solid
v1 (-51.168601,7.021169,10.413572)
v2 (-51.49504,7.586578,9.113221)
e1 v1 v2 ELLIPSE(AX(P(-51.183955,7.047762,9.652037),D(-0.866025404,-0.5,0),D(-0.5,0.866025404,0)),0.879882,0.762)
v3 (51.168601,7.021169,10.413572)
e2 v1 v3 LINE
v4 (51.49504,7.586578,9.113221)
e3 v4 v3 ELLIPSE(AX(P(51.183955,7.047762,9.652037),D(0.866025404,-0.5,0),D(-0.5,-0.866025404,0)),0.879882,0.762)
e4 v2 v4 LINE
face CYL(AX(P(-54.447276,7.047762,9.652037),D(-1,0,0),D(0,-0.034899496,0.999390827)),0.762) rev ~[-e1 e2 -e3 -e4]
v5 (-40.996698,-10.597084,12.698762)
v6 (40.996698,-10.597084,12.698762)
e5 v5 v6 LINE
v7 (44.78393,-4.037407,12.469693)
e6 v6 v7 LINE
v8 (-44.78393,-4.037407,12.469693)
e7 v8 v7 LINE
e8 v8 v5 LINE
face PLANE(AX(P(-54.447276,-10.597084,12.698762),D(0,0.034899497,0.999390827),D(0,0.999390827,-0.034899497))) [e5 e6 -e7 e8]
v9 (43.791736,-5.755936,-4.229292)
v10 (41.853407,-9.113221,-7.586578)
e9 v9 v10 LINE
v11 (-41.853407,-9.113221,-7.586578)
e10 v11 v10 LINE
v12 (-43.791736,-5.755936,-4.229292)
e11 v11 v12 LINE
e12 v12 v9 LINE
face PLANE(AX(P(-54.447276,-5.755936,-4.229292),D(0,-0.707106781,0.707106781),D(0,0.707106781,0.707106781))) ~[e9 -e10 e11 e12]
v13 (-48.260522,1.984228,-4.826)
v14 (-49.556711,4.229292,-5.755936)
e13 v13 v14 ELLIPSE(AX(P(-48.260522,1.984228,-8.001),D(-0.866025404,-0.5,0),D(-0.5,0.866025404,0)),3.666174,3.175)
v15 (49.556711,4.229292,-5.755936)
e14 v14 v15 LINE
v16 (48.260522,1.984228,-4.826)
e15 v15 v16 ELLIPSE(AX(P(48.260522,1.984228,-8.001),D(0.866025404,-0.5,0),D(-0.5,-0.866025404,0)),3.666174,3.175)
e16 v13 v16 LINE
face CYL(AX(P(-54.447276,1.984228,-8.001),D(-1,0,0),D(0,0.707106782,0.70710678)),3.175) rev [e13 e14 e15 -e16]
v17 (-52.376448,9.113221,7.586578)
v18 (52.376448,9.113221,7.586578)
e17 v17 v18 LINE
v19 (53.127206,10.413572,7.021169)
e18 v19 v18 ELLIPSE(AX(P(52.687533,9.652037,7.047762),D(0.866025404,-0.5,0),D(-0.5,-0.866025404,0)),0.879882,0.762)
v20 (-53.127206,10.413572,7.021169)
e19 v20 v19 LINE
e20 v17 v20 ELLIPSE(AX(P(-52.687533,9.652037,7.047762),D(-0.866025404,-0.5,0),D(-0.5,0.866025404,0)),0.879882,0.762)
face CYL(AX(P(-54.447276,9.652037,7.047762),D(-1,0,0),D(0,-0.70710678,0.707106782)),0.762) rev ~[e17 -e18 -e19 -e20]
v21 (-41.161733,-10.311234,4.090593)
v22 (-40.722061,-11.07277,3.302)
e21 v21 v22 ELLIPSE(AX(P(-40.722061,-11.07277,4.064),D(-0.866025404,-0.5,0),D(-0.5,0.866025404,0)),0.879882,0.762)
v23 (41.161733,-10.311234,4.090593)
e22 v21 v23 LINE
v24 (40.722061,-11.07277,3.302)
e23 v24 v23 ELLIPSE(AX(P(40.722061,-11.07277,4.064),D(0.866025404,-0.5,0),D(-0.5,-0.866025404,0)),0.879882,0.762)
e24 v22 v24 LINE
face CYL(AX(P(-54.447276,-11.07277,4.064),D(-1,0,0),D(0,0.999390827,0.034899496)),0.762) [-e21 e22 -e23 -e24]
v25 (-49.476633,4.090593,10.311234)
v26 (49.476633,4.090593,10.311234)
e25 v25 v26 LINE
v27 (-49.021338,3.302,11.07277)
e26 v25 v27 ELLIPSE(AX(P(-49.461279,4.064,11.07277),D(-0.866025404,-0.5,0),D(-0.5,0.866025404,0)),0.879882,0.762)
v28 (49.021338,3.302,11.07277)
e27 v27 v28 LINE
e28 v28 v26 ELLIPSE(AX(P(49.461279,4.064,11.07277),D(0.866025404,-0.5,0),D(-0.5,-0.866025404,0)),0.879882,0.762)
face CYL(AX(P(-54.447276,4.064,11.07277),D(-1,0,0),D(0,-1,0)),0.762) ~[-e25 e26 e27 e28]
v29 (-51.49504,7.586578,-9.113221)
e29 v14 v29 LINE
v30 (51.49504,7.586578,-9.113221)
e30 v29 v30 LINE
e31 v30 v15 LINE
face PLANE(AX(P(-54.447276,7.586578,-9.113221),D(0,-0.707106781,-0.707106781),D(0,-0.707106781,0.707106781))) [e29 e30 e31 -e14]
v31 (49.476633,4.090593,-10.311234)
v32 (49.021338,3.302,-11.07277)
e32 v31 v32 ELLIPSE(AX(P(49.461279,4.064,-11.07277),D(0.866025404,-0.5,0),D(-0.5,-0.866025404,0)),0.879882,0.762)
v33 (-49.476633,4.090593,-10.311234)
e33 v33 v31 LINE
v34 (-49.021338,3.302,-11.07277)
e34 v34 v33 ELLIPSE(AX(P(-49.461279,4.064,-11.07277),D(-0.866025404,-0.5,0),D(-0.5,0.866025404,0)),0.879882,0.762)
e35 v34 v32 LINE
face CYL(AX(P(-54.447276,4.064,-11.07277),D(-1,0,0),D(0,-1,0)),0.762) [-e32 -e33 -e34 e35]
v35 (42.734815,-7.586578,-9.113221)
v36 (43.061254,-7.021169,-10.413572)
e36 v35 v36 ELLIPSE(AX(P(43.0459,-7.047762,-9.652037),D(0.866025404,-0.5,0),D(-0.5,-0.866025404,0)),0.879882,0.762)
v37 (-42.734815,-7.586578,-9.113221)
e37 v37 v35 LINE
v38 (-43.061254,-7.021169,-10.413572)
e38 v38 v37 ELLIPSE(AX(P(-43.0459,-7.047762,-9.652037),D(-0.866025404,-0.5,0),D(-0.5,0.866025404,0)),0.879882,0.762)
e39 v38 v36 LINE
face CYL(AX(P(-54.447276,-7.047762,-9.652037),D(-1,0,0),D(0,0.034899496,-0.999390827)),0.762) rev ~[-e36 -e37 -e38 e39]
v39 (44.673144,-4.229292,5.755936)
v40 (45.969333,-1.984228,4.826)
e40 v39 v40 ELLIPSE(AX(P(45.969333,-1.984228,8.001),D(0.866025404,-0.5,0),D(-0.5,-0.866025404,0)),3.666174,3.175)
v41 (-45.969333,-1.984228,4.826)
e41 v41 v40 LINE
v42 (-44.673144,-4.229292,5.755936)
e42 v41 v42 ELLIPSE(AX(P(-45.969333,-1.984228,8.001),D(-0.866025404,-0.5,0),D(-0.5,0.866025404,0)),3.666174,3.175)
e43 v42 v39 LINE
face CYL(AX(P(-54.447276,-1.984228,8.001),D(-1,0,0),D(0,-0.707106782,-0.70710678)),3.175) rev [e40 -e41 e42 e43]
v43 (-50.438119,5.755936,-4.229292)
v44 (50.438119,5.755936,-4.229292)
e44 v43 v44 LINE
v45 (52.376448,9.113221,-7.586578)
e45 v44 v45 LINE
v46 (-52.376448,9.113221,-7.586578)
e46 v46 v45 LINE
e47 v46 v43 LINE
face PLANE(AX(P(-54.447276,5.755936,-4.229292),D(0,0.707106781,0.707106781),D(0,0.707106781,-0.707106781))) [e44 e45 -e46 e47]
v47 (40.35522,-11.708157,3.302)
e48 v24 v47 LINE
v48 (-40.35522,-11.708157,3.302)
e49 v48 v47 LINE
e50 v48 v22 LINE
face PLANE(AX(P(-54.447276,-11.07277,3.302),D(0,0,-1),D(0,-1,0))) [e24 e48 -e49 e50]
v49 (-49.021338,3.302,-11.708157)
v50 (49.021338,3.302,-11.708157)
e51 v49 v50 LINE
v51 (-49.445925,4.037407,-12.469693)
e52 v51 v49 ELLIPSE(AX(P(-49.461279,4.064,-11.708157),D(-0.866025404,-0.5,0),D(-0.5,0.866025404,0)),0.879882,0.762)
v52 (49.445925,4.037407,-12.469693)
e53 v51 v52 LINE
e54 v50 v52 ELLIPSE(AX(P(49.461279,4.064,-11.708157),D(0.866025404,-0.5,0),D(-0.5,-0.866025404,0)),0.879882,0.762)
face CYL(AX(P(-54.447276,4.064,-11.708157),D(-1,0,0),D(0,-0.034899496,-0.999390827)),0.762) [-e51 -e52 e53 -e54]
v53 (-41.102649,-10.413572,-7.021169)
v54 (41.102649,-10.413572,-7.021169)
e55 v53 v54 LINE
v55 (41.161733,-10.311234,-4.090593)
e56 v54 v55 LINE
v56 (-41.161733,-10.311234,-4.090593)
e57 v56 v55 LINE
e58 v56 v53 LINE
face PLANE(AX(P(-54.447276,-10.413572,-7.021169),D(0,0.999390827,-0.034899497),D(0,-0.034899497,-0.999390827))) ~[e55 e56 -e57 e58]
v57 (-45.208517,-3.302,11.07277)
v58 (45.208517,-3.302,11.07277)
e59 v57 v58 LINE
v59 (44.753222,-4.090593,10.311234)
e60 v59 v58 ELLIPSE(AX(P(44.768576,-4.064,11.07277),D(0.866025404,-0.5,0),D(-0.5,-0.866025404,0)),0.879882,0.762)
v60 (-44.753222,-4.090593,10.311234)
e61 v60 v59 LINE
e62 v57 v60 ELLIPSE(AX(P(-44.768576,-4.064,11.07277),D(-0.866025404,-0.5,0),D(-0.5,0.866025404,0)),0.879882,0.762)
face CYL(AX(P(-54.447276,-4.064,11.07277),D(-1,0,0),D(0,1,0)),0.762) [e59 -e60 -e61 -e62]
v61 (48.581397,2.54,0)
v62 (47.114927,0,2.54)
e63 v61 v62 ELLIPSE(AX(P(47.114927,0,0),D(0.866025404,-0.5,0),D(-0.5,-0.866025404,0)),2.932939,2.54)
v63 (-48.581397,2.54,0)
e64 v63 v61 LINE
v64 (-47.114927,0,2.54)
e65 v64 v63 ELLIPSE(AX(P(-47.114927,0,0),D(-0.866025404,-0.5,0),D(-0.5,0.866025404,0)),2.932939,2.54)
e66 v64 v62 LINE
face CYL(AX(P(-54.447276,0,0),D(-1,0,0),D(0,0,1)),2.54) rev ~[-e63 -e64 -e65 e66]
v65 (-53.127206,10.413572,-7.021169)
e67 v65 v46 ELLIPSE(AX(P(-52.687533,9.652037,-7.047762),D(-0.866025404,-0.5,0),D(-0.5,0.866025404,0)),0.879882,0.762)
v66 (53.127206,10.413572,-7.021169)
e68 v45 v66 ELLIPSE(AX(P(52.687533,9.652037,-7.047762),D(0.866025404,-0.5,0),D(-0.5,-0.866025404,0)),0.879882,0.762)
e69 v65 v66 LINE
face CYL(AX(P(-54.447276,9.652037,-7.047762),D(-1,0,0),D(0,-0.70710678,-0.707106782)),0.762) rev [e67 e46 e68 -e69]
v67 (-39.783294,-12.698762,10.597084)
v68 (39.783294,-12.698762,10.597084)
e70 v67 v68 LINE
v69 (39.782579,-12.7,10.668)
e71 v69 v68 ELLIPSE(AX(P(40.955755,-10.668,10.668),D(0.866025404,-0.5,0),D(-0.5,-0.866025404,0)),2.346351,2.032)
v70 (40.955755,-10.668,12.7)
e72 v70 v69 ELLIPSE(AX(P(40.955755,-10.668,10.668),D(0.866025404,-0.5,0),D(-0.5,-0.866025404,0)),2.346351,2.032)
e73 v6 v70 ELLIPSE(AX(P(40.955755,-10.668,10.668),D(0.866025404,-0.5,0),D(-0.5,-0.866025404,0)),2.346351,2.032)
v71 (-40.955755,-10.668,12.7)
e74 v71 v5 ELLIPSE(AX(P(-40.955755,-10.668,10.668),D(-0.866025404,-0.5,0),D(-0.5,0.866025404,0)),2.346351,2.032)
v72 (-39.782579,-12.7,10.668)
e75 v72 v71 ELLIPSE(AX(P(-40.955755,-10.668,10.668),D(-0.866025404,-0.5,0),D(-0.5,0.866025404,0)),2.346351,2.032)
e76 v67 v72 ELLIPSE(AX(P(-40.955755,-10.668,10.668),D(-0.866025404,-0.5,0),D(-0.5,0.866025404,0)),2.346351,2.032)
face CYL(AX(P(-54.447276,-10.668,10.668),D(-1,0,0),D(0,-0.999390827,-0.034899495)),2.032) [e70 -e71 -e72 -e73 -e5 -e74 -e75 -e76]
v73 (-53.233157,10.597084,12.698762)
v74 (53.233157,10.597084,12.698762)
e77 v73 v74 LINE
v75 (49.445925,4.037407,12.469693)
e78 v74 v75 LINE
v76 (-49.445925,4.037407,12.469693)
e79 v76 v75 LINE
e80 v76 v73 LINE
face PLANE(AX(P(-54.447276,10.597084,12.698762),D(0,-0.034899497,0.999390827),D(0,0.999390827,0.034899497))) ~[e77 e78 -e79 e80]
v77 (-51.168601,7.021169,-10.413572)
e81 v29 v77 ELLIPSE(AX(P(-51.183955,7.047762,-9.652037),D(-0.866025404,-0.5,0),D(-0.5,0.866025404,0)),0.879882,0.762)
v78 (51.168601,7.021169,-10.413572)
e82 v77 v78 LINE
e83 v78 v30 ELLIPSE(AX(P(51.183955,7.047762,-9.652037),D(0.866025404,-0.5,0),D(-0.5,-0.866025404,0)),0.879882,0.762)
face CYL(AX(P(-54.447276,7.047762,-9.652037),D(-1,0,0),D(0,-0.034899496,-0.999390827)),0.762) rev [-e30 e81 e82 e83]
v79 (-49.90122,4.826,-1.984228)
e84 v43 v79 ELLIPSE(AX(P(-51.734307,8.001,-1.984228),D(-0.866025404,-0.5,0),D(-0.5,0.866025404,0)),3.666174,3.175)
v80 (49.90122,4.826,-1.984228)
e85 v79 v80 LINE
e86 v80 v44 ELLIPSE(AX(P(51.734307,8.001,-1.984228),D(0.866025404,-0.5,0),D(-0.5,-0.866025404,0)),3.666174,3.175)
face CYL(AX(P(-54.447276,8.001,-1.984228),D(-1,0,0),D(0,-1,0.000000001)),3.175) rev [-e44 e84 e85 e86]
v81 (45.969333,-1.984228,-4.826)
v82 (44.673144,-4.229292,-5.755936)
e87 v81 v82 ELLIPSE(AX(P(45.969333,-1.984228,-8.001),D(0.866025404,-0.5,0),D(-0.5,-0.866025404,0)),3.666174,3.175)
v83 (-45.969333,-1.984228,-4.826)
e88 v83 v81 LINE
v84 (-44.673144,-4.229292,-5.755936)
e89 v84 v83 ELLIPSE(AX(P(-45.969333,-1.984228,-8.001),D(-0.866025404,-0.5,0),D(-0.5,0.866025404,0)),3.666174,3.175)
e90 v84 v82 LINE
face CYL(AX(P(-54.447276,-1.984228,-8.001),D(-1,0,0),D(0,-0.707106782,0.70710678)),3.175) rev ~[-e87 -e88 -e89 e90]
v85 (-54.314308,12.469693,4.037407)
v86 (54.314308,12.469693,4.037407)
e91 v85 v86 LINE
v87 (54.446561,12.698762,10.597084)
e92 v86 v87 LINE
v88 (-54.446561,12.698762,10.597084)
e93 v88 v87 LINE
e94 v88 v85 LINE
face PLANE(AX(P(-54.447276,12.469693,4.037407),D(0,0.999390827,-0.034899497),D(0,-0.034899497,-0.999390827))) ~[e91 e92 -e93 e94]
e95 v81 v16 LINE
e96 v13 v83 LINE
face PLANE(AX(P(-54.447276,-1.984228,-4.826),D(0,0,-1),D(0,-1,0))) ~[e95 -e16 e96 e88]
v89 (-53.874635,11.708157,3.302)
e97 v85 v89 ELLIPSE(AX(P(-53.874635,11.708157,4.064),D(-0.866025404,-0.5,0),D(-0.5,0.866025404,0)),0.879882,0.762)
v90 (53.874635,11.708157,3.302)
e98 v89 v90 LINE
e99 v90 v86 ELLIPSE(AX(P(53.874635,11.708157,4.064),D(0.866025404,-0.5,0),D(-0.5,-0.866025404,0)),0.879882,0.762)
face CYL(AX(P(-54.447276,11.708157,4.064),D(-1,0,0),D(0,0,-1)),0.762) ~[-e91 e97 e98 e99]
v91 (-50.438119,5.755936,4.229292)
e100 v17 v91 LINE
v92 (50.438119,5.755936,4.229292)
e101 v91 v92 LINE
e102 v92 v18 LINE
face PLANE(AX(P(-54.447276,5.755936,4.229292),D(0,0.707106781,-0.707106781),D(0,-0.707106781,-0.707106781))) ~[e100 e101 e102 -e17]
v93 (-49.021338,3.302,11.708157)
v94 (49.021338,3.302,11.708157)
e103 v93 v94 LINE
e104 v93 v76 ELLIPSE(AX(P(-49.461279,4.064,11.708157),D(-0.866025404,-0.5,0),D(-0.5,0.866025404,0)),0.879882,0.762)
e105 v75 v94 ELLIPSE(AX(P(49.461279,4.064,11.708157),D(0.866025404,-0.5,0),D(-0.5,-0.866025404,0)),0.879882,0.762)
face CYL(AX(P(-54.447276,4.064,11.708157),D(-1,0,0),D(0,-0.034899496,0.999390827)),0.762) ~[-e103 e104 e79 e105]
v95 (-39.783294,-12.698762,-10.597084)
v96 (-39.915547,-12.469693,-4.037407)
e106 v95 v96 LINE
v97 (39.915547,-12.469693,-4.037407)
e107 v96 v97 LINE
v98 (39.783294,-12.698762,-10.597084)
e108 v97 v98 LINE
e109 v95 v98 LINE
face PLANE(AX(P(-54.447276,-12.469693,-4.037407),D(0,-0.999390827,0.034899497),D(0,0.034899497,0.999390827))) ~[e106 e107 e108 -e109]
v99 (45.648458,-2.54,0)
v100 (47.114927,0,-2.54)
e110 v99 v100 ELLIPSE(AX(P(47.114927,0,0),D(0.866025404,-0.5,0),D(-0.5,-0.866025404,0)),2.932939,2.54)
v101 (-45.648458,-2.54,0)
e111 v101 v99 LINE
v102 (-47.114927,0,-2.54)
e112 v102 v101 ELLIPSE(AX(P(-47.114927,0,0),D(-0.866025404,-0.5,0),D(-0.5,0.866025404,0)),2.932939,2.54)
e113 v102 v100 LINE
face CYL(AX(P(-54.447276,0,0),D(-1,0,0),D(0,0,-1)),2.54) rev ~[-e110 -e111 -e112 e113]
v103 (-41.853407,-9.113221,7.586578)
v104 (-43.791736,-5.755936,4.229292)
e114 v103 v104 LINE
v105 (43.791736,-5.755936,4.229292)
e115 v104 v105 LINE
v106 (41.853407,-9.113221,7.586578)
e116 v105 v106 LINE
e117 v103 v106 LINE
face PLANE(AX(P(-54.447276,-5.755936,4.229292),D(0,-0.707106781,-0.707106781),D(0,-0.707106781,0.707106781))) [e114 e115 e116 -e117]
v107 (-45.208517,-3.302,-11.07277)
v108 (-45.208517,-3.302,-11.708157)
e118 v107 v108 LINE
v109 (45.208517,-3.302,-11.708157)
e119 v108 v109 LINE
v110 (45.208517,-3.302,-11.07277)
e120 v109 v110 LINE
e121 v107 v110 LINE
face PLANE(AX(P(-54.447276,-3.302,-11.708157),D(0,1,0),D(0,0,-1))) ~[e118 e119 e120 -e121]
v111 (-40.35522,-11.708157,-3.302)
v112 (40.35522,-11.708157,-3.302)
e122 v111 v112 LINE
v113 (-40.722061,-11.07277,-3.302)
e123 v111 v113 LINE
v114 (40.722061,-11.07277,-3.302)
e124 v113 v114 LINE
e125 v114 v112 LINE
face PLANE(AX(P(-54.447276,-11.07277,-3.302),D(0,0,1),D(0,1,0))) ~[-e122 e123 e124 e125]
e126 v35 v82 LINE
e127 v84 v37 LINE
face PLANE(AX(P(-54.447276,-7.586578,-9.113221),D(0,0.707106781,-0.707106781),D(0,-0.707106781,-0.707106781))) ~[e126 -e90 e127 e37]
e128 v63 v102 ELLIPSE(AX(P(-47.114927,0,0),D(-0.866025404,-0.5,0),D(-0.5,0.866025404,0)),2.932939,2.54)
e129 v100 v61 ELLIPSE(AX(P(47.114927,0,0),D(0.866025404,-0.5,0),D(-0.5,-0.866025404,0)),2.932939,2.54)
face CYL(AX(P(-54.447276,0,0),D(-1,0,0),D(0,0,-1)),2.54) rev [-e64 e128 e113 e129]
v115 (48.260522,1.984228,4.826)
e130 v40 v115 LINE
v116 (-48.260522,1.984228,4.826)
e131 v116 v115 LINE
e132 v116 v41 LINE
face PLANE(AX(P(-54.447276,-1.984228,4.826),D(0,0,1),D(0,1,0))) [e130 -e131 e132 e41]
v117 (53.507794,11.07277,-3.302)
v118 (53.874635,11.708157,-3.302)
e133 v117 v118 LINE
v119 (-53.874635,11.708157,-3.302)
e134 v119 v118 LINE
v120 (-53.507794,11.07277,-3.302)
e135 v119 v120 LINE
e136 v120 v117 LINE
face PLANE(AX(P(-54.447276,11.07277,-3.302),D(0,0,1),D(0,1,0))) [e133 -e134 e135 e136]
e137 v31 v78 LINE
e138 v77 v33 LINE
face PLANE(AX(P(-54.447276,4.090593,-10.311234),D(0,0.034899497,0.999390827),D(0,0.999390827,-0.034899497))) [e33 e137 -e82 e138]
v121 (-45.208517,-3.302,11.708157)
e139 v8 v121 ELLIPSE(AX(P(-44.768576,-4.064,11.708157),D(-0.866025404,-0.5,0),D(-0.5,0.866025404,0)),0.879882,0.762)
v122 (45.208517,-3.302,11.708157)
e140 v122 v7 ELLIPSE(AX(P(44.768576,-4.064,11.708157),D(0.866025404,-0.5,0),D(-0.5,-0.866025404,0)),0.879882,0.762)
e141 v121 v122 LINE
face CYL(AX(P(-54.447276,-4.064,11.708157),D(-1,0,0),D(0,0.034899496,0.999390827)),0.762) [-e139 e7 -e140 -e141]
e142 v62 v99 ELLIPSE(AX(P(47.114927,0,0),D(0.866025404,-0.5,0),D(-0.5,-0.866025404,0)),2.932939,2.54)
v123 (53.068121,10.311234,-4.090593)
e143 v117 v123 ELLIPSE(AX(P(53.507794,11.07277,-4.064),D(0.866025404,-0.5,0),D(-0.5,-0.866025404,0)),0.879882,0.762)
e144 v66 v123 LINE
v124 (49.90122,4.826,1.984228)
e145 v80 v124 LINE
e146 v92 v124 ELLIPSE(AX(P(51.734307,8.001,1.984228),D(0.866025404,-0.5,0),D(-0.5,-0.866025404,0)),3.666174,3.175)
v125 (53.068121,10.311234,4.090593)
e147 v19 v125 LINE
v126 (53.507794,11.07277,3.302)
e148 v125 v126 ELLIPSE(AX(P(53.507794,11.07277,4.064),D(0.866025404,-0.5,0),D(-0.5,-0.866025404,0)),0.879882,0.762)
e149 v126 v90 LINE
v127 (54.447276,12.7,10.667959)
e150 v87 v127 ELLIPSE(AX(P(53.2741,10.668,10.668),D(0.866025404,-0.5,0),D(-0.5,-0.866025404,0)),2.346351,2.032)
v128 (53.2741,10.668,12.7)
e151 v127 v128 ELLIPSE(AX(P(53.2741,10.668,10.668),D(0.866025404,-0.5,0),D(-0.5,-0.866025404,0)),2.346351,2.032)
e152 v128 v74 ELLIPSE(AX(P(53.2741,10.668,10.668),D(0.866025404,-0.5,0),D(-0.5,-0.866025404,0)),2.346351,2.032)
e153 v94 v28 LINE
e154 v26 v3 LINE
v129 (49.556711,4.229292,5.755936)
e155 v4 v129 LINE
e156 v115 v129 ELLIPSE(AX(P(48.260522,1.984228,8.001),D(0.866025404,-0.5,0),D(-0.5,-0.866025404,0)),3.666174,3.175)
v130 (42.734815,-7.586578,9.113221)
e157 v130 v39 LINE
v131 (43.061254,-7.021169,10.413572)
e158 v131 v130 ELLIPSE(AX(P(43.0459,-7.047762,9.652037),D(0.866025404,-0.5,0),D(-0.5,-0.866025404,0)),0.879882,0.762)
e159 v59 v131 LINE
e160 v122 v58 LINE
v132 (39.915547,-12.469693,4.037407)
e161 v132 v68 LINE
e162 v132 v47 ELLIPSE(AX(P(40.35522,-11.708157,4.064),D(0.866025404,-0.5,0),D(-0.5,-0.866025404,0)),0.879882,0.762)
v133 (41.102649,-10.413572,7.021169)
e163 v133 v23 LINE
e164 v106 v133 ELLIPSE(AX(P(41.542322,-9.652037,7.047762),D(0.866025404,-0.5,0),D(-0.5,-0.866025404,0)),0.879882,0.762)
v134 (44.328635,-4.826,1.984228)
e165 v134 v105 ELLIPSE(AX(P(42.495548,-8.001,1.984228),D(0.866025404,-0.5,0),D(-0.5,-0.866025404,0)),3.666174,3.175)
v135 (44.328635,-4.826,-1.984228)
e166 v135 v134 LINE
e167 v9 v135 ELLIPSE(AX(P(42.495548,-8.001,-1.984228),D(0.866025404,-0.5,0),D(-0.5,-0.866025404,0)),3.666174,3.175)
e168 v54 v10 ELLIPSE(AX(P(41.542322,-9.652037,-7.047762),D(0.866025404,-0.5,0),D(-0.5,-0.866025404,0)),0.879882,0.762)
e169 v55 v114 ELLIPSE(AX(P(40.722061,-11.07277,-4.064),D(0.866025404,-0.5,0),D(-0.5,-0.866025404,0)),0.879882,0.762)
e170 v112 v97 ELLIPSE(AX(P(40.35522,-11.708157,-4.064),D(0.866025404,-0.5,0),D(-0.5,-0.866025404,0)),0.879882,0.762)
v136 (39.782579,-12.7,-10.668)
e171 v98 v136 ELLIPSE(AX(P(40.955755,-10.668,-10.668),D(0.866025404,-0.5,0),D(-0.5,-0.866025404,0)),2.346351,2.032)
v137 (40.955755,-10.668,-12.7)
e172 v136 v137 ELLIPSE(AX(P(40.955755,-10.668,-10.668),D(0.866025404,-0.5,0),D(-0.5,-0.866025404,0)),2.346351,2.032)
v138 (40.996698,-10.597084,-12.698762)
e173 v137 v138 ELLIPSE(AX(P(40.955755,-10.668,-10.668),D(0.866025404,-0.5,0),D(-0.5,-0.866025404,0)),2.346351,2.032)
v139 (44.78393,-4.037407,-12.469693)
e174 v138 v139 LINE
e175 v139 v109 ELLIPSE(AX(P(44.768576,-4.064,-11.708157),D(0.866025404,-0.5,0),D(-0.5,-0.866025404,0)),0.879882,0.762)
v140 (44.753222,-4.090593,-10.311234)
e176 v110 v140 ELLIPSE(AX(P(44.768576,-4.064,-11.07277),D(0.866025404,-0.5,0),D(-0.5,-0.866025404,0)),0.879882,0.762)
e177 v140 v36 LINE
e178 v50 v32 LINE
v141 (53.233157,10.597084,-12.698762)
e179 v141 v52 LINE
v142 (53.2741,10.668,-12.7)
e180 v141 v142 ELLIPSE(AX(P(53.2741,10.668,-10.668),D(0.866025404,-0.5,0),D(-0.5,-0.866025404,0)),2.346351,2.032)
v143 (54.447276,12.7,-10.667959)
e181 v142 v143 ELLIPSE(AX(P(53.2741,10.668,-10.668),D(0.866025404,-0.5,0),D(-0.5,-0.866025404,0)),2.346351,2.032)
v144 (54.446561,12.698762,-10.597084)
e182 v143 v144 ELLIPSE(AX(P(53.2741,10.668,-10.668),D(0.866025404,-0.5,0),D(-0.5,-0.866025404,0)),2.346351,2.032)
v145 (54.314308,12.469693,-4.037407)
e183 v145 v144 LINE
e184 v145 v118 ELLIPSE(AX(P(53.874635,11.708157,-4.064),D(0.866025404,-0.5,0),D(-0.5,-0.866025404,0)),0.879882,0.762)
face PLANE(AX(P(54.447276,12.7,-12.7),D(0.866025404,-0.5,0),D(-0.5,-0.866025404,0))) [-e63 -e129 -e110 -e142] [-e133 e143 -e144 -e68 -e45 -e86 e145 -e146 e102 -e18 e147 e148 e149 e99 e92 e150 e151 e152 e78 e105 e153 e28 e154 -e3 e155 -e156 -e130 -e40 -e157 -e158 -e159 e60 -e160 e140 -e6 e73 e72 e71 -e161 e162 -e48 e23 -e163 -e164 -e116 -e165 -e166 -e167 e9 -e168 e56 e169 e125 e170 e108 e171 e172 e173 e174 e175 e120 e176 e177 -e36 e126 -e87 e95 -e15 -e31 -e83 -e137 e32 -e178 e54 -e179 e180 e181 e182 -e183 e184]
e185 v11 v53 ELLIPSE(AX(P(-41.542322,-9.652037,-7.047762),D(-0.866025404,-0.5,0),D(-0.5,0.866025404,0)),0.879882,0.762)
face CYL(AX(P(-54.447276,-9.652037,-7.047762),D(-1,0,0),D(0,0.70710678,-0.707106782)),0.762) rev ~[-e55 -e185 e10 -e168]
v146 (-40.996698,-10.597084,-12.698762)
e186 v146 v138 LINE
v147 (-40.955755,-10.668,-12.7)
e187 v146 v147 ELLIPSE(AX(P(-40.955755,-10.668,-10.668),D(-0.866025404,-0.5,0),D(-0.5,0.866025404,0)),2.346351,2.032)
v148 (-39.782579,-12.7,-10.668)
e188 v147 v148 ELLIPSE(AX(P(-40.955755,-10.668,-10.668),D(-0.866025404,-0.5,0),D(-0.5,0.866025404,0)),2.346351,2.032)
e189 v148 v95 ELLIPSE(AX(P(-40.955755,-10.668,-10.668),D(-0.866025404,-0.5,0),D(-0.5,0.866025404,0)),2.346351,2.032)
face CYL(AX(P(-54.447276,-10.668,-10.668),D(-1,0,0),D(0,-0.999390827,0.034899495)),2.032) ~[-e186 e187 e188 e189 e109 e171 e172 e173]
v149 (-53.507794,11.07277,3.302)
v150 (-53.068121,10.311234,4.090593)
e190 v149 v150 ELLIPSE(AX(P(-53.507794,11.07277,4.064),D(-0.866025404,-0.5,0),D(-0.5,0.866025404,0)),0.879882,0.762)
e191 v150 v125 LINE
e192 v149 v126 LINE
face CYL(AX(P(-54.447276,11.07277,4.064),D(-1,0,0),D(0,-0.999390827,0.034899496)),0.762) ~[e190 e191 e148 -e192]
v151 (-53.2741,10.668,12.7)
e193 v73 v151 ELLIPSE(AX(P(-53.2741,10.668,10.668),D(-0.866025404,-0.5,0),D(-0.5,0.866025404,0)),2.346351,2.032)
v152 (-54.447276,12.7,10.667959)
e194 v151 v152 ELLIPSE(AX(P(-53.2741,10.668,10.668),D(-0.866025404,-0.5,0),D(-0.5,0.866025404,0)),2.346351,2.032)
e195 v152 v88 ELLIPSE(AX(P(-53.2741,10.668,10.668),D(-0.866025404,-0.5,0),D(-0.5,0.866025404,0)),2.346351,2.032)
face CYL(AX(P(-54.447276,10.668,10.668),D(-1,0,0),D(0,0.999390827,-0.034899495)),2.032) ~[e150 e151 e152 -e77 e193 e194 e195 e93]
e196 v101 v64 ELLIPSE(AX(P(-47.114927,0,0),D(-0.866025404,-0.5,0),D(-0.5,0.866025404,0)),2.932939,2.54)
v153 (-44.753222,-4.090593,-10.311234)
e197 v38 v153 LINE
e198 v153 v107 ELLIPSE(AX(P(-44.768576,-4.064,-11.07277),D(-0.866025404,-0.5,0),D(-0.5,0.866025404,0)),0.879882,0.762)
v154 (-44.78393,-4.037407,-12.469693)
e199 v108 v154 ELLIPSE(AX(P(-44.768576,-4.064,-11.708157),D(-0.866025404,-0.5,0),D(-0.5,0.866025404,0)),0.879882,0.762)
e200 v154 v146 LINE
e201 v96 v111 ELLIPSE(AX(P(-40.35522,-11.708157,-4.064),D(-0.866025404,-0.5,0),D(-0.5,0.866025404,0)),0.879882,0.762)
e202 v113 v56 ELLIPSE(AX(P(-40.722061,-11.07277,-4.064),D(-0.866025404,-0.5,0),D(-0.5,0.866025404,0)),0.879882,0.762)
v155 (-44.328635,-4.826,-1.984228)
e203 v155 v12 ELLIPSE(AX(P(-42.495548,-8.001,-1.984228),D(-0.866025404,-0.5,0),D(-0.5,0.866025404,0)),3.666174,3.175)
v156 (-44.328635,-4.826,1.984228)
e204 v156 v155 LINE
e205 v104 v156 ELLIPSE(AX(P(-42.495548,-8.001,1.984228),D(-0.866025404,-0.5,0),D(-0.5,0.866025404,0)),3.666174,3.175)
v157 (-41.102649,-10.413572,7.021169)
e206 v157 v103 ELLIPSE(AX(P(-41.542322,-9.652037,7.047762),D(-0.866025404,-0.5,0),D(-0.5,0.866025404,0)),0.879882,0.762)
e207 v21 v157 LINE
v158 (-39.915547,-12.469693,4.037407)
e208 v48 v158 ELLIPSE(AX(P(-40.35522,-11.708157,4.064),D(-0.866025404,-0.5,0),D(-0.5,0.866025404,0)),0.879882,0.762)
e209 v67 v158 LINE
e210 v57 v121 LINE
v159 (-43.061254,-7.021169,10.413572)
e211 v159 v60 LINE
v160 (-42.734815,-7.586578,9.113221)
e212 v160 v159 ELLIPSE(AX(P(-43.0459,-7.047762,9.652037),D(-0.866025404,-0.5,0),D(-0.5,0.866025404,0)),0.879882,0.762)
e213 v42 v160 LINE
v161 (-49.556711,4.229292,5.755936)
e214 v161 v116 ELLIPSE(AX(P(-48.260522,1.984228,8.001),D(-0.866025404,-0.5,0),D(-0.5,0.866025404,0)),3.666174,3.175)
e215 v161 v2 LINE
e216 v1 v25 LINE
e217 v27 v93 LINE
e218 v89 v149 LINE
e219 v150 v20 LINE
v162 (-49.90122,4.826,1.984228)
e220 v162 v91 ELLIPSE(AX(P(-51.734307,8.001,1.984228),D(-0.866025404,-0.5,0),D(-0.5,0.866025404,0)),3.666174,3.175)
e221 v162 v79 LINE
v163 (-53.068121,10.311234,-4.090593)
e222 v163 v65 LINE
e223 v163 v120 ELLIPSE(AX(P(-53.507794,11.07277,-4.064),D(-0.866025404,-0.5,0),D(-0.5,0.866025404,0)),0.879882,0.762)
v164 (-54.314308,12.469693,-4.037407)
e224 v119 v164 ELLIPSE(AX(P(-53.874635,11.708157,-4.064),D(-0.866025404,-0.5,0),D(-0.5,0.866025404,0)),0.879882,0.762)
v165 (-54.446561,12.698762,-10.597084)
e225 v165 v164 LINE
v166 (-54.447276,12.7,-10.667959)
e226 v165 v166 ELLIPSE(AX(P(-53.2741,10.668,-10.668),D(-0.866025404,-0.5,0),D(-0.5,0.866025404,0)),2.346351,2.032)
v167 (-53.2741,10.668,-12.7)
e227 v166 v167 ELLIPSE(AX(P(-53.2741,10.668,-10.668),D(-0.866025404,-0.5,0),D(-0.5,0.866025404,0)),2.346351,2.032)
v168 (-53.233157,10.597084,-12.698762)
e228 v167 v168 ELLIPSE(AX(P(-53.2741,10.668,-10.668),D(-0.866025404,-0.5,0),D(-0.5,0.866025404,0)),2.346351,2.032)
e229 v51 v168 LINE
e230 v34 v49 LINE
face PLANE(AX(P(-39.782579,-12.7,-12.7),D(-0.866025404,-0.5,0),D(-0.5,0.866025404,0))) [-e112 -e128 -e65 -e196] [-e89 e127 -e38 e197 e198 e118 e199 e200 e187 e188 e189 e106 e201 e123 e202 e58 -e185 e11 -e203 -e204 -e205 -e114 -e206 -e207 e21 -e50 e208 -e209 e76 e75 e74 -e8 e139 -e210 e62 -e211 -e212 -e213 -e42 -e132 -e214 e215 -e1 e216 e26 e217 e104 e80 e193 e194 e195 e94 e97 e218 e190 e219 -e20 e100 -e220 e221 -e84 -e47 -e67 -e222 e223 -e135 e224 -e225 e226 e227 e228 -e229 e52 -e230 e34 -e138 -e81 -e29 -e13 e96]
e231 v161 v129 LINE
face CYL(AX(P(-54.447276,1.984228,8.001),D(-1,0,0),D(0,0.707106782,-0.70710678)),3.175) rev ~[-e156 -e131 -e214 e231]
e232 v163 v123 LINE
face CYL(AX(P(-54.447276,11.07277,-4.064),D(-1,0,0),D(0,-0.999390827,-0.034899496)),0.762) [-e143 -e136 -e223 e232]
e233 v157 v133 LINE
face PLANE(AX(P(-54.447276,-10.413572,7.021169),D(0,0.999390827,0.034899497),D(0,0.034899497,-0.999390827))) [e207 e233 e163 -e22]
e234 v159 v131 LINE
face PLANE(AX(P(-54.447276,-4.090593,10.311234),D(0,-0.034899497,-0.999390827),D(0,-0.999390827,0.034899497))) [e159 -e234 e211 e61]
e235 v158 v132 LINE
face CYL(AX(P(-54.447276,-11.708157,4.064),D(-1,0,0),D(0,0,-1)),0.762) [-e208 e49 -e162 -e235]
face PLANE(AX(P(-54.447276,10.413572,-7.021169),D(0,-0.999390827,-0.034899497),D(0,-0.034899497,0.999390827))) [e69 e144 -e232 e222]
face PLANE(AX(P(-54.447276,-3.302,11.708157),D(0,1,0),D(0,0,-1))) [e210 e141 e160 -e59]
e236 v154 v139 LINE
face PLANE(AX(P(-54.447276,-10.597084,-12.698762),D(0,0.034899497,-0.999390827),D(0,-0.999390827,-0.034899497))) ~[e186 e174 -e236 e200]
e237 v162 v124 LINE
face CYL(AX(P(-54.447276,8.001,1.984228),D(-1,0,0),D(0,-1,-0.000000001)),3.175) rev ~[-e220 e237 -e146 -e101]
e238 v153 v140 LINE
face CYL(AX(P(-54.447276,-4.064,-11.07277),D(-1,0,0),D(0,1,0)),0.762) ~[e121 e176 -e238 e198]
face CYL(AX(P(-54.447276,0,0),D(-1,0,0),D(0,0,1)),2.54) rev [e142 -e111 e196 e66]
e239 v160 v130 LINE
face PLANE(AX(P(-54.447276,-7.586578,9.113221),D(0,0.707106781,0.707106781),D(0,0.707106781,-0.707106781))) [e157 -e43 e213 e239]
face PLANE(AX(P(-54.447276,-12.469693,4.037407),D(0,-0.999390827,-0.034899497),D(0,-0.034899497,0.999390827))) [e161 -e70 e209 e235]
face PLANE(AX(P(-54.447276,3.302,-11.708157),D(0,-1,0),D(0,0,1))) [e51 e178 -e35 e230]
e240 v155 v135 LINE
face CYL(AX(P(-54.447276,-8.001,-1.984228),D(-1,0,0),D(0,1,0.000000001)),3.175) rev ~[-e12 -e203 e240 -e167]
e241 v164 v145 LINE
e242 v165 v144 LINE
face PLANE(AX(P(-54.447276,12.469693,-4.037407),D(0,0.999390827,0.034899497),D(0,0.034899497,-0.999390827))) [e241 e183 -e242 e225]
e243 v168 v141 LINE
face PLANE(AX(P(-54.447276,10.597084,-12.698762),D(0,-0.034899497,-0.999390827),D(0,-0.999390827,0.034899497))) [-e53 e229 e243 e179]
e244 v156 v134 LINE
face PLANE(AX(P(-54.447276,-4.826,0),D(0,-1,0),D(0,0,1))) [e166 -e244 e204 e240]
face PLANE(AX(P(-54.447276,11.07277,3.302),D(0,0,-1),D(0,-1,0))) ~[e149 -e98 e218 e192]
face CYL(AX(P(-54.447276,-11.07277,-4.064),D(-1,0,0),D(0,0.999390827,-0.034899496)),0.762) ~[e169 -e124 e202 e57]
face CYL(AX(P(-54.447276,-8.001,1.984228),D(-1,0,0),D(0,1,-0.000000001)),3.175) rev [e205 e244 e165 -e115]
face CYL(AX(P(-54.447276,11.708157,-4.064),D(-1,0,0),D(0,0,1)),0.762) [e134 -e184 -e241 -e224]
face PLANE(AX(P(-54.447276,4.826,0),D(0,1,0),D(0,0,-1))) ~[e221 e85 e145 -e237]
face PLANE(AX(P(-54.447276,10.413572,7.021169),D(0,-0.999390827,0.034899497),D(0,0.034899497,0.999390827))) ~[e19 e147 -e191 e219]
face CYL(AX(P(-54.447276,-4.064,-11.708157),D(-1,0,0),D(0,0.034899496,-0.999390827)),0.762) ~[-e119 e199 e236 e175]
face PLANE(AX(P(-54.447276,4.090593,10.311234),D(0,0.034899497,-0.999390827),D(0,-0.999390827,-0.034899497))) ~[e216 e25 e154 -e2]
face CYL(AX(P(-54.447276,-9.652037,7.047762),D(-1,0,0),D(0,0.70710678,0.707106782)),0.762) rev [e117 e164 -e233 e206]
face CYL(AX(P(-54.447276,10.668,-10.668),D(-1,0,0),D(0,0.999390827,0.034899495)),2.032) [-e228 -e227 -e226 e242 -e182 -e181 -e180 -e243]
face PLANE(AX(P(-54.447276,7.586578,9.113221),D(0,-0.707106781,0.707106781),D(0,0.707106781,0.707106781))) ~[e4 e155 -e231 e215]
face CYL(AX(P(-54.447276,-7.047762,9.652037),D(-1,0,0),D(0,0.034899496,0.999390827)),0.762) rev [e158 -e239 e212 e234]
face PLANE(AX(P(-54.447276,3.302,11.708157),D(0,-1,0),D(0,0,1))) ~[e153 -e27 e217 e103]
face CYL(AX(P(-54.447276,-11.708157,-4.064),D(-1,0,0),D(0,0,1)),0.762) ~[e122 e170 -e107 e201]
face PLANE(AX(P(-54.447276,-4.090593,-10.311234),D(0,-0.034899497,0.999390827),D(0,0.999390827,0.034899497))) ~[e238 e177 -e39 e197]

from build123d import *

# Parameters (mm, degrees)
BOSS_EXTRUDE1_DEPTH      = 54.447276
BOSS_EXTRUDE1_DEPTH_BACK = 54.447276
CUT_EXTRUDE1_DEPTH       = 12.7
CUT_EXTRUDE1_DEPTH_BACK  = 12.7


with BuildPart() as part:
    # Sketch3 → Boss-Extrude1 (new, two sides: drawn at the far end of the back side and taken through both)
    with BuildSketch(Plane(origin=(0, 0, 0), x_dir=(0, 0, -1), z_dir=(1, 0, 0)).offset(-BOSS_EXTRUDE1_DEPTH_BACK)):
        with BuildLine():
            Line((0, 4.826), (1.984228399, 4.826))
            ThreePointArc((1.984228399, 4.826), (3.199248297, 5.067682484), (4.229292429, 5.75593597))
            Line((4.229292429, 5.75593597), (7.586577723, 9.113221264))
            ThreePointArc((7.586577723, 9.113221264), (7.746562132, 9.955883421), (7.021168939, 10.413572441))
            Line((7.021168939, 10.413572441), (4.090593416, 10.311234489))
            ThreePointArc((4.090593416, 10.311234489), (3.534670322, 10.524633371), (3.302, 11.072770299))
            Line((3.302, 11.072770299), (3.302, 11.70815736))
            ThreePointArc((3.302, 11.70815736), (3.515863072, 12.237487038), (4.037406584, 12.46969317))
            Line((4.037406584, 12.46969317), (10.597084223, 12.698762161))
            ThreePointArc((10.597084223, 12.698762161), (12.104840979, 12.104840979), (12.698762161, 10.597084223))
            Line((12.698762161, 10.597084223), (12.46969317, 4.037406584))
            ThreePointArc((12.46969317, 4.037406584), (12.237487038, 3.515863072), (11.70815736, 3.302))
            Line((11.70815736, 3.302), (11.072770299, 3.302))
            ThreePointArc((11.072770299, 3.302), (10.524633371, 3.534670322), (10.311234489, 4.090593416))
            Line((10.311234489, 4.090593416), (10.413572441, 7.021168939))
            ThreePointArc((10.413572441, 7.021168939), (9.955883421, 7.746562132), (9.113221264, 7.586577723))
            Line((9.113221264, 7.586577723), (5.75593597, 4.229292429))
            ThreePointArc((5.75593597, 4.229292429), (5.067682484, 3.199248297), (4.826, 1.984228399))
            Line((4.826, 1.984228399), (4.826, 0))
            Line((4.826, 0), (2.54, 0))
            ThreePointArc((2.54, 0), (1.796051224, 1.796051224), (0, 2.54))
            Line((0, 2.54), (0, 4.826))
        make_face()
    extrude(amount=BOSS_EXTRUDE1_DEPTH + BOSS_EXTRUDE1_DEPTH_BACK)

    # Mirror1: part across plane


with BuildPart() as part_1:
    add(part.part)
    add(part.part.mirror(Plane.ZX))

    # Mirror2: part across plane


with BuildPart() as part_2:
    add(part_1.part)
    add(part_1.part.mirror(Plane.XY))

    # Sketch4 → Cut-Extrude1 (cut, two sides: drawn at the far end of the back side and taken through both)
    with BuildSketch(Plane.XY.offset(-CUT_EXTRUDE1_DEPTH_BACK)):
        Polygon((-56.987275902, -38.1), (56.987275902, -38.1), (56.987275902, 12.7), (54.447275902, 12.7), (39.782579065, -12.7), (-39.782579065, -12.7), (-54.447275902, 12.7), (-56.987275902, 12.7), align=None)
    extrude(amount=CUT_EXTRUDE1_DEPTH + CUT_EXTRUDE1_DEPTH_BACK, mode=Mode.SUBTRACT)


solid = part_2.part
